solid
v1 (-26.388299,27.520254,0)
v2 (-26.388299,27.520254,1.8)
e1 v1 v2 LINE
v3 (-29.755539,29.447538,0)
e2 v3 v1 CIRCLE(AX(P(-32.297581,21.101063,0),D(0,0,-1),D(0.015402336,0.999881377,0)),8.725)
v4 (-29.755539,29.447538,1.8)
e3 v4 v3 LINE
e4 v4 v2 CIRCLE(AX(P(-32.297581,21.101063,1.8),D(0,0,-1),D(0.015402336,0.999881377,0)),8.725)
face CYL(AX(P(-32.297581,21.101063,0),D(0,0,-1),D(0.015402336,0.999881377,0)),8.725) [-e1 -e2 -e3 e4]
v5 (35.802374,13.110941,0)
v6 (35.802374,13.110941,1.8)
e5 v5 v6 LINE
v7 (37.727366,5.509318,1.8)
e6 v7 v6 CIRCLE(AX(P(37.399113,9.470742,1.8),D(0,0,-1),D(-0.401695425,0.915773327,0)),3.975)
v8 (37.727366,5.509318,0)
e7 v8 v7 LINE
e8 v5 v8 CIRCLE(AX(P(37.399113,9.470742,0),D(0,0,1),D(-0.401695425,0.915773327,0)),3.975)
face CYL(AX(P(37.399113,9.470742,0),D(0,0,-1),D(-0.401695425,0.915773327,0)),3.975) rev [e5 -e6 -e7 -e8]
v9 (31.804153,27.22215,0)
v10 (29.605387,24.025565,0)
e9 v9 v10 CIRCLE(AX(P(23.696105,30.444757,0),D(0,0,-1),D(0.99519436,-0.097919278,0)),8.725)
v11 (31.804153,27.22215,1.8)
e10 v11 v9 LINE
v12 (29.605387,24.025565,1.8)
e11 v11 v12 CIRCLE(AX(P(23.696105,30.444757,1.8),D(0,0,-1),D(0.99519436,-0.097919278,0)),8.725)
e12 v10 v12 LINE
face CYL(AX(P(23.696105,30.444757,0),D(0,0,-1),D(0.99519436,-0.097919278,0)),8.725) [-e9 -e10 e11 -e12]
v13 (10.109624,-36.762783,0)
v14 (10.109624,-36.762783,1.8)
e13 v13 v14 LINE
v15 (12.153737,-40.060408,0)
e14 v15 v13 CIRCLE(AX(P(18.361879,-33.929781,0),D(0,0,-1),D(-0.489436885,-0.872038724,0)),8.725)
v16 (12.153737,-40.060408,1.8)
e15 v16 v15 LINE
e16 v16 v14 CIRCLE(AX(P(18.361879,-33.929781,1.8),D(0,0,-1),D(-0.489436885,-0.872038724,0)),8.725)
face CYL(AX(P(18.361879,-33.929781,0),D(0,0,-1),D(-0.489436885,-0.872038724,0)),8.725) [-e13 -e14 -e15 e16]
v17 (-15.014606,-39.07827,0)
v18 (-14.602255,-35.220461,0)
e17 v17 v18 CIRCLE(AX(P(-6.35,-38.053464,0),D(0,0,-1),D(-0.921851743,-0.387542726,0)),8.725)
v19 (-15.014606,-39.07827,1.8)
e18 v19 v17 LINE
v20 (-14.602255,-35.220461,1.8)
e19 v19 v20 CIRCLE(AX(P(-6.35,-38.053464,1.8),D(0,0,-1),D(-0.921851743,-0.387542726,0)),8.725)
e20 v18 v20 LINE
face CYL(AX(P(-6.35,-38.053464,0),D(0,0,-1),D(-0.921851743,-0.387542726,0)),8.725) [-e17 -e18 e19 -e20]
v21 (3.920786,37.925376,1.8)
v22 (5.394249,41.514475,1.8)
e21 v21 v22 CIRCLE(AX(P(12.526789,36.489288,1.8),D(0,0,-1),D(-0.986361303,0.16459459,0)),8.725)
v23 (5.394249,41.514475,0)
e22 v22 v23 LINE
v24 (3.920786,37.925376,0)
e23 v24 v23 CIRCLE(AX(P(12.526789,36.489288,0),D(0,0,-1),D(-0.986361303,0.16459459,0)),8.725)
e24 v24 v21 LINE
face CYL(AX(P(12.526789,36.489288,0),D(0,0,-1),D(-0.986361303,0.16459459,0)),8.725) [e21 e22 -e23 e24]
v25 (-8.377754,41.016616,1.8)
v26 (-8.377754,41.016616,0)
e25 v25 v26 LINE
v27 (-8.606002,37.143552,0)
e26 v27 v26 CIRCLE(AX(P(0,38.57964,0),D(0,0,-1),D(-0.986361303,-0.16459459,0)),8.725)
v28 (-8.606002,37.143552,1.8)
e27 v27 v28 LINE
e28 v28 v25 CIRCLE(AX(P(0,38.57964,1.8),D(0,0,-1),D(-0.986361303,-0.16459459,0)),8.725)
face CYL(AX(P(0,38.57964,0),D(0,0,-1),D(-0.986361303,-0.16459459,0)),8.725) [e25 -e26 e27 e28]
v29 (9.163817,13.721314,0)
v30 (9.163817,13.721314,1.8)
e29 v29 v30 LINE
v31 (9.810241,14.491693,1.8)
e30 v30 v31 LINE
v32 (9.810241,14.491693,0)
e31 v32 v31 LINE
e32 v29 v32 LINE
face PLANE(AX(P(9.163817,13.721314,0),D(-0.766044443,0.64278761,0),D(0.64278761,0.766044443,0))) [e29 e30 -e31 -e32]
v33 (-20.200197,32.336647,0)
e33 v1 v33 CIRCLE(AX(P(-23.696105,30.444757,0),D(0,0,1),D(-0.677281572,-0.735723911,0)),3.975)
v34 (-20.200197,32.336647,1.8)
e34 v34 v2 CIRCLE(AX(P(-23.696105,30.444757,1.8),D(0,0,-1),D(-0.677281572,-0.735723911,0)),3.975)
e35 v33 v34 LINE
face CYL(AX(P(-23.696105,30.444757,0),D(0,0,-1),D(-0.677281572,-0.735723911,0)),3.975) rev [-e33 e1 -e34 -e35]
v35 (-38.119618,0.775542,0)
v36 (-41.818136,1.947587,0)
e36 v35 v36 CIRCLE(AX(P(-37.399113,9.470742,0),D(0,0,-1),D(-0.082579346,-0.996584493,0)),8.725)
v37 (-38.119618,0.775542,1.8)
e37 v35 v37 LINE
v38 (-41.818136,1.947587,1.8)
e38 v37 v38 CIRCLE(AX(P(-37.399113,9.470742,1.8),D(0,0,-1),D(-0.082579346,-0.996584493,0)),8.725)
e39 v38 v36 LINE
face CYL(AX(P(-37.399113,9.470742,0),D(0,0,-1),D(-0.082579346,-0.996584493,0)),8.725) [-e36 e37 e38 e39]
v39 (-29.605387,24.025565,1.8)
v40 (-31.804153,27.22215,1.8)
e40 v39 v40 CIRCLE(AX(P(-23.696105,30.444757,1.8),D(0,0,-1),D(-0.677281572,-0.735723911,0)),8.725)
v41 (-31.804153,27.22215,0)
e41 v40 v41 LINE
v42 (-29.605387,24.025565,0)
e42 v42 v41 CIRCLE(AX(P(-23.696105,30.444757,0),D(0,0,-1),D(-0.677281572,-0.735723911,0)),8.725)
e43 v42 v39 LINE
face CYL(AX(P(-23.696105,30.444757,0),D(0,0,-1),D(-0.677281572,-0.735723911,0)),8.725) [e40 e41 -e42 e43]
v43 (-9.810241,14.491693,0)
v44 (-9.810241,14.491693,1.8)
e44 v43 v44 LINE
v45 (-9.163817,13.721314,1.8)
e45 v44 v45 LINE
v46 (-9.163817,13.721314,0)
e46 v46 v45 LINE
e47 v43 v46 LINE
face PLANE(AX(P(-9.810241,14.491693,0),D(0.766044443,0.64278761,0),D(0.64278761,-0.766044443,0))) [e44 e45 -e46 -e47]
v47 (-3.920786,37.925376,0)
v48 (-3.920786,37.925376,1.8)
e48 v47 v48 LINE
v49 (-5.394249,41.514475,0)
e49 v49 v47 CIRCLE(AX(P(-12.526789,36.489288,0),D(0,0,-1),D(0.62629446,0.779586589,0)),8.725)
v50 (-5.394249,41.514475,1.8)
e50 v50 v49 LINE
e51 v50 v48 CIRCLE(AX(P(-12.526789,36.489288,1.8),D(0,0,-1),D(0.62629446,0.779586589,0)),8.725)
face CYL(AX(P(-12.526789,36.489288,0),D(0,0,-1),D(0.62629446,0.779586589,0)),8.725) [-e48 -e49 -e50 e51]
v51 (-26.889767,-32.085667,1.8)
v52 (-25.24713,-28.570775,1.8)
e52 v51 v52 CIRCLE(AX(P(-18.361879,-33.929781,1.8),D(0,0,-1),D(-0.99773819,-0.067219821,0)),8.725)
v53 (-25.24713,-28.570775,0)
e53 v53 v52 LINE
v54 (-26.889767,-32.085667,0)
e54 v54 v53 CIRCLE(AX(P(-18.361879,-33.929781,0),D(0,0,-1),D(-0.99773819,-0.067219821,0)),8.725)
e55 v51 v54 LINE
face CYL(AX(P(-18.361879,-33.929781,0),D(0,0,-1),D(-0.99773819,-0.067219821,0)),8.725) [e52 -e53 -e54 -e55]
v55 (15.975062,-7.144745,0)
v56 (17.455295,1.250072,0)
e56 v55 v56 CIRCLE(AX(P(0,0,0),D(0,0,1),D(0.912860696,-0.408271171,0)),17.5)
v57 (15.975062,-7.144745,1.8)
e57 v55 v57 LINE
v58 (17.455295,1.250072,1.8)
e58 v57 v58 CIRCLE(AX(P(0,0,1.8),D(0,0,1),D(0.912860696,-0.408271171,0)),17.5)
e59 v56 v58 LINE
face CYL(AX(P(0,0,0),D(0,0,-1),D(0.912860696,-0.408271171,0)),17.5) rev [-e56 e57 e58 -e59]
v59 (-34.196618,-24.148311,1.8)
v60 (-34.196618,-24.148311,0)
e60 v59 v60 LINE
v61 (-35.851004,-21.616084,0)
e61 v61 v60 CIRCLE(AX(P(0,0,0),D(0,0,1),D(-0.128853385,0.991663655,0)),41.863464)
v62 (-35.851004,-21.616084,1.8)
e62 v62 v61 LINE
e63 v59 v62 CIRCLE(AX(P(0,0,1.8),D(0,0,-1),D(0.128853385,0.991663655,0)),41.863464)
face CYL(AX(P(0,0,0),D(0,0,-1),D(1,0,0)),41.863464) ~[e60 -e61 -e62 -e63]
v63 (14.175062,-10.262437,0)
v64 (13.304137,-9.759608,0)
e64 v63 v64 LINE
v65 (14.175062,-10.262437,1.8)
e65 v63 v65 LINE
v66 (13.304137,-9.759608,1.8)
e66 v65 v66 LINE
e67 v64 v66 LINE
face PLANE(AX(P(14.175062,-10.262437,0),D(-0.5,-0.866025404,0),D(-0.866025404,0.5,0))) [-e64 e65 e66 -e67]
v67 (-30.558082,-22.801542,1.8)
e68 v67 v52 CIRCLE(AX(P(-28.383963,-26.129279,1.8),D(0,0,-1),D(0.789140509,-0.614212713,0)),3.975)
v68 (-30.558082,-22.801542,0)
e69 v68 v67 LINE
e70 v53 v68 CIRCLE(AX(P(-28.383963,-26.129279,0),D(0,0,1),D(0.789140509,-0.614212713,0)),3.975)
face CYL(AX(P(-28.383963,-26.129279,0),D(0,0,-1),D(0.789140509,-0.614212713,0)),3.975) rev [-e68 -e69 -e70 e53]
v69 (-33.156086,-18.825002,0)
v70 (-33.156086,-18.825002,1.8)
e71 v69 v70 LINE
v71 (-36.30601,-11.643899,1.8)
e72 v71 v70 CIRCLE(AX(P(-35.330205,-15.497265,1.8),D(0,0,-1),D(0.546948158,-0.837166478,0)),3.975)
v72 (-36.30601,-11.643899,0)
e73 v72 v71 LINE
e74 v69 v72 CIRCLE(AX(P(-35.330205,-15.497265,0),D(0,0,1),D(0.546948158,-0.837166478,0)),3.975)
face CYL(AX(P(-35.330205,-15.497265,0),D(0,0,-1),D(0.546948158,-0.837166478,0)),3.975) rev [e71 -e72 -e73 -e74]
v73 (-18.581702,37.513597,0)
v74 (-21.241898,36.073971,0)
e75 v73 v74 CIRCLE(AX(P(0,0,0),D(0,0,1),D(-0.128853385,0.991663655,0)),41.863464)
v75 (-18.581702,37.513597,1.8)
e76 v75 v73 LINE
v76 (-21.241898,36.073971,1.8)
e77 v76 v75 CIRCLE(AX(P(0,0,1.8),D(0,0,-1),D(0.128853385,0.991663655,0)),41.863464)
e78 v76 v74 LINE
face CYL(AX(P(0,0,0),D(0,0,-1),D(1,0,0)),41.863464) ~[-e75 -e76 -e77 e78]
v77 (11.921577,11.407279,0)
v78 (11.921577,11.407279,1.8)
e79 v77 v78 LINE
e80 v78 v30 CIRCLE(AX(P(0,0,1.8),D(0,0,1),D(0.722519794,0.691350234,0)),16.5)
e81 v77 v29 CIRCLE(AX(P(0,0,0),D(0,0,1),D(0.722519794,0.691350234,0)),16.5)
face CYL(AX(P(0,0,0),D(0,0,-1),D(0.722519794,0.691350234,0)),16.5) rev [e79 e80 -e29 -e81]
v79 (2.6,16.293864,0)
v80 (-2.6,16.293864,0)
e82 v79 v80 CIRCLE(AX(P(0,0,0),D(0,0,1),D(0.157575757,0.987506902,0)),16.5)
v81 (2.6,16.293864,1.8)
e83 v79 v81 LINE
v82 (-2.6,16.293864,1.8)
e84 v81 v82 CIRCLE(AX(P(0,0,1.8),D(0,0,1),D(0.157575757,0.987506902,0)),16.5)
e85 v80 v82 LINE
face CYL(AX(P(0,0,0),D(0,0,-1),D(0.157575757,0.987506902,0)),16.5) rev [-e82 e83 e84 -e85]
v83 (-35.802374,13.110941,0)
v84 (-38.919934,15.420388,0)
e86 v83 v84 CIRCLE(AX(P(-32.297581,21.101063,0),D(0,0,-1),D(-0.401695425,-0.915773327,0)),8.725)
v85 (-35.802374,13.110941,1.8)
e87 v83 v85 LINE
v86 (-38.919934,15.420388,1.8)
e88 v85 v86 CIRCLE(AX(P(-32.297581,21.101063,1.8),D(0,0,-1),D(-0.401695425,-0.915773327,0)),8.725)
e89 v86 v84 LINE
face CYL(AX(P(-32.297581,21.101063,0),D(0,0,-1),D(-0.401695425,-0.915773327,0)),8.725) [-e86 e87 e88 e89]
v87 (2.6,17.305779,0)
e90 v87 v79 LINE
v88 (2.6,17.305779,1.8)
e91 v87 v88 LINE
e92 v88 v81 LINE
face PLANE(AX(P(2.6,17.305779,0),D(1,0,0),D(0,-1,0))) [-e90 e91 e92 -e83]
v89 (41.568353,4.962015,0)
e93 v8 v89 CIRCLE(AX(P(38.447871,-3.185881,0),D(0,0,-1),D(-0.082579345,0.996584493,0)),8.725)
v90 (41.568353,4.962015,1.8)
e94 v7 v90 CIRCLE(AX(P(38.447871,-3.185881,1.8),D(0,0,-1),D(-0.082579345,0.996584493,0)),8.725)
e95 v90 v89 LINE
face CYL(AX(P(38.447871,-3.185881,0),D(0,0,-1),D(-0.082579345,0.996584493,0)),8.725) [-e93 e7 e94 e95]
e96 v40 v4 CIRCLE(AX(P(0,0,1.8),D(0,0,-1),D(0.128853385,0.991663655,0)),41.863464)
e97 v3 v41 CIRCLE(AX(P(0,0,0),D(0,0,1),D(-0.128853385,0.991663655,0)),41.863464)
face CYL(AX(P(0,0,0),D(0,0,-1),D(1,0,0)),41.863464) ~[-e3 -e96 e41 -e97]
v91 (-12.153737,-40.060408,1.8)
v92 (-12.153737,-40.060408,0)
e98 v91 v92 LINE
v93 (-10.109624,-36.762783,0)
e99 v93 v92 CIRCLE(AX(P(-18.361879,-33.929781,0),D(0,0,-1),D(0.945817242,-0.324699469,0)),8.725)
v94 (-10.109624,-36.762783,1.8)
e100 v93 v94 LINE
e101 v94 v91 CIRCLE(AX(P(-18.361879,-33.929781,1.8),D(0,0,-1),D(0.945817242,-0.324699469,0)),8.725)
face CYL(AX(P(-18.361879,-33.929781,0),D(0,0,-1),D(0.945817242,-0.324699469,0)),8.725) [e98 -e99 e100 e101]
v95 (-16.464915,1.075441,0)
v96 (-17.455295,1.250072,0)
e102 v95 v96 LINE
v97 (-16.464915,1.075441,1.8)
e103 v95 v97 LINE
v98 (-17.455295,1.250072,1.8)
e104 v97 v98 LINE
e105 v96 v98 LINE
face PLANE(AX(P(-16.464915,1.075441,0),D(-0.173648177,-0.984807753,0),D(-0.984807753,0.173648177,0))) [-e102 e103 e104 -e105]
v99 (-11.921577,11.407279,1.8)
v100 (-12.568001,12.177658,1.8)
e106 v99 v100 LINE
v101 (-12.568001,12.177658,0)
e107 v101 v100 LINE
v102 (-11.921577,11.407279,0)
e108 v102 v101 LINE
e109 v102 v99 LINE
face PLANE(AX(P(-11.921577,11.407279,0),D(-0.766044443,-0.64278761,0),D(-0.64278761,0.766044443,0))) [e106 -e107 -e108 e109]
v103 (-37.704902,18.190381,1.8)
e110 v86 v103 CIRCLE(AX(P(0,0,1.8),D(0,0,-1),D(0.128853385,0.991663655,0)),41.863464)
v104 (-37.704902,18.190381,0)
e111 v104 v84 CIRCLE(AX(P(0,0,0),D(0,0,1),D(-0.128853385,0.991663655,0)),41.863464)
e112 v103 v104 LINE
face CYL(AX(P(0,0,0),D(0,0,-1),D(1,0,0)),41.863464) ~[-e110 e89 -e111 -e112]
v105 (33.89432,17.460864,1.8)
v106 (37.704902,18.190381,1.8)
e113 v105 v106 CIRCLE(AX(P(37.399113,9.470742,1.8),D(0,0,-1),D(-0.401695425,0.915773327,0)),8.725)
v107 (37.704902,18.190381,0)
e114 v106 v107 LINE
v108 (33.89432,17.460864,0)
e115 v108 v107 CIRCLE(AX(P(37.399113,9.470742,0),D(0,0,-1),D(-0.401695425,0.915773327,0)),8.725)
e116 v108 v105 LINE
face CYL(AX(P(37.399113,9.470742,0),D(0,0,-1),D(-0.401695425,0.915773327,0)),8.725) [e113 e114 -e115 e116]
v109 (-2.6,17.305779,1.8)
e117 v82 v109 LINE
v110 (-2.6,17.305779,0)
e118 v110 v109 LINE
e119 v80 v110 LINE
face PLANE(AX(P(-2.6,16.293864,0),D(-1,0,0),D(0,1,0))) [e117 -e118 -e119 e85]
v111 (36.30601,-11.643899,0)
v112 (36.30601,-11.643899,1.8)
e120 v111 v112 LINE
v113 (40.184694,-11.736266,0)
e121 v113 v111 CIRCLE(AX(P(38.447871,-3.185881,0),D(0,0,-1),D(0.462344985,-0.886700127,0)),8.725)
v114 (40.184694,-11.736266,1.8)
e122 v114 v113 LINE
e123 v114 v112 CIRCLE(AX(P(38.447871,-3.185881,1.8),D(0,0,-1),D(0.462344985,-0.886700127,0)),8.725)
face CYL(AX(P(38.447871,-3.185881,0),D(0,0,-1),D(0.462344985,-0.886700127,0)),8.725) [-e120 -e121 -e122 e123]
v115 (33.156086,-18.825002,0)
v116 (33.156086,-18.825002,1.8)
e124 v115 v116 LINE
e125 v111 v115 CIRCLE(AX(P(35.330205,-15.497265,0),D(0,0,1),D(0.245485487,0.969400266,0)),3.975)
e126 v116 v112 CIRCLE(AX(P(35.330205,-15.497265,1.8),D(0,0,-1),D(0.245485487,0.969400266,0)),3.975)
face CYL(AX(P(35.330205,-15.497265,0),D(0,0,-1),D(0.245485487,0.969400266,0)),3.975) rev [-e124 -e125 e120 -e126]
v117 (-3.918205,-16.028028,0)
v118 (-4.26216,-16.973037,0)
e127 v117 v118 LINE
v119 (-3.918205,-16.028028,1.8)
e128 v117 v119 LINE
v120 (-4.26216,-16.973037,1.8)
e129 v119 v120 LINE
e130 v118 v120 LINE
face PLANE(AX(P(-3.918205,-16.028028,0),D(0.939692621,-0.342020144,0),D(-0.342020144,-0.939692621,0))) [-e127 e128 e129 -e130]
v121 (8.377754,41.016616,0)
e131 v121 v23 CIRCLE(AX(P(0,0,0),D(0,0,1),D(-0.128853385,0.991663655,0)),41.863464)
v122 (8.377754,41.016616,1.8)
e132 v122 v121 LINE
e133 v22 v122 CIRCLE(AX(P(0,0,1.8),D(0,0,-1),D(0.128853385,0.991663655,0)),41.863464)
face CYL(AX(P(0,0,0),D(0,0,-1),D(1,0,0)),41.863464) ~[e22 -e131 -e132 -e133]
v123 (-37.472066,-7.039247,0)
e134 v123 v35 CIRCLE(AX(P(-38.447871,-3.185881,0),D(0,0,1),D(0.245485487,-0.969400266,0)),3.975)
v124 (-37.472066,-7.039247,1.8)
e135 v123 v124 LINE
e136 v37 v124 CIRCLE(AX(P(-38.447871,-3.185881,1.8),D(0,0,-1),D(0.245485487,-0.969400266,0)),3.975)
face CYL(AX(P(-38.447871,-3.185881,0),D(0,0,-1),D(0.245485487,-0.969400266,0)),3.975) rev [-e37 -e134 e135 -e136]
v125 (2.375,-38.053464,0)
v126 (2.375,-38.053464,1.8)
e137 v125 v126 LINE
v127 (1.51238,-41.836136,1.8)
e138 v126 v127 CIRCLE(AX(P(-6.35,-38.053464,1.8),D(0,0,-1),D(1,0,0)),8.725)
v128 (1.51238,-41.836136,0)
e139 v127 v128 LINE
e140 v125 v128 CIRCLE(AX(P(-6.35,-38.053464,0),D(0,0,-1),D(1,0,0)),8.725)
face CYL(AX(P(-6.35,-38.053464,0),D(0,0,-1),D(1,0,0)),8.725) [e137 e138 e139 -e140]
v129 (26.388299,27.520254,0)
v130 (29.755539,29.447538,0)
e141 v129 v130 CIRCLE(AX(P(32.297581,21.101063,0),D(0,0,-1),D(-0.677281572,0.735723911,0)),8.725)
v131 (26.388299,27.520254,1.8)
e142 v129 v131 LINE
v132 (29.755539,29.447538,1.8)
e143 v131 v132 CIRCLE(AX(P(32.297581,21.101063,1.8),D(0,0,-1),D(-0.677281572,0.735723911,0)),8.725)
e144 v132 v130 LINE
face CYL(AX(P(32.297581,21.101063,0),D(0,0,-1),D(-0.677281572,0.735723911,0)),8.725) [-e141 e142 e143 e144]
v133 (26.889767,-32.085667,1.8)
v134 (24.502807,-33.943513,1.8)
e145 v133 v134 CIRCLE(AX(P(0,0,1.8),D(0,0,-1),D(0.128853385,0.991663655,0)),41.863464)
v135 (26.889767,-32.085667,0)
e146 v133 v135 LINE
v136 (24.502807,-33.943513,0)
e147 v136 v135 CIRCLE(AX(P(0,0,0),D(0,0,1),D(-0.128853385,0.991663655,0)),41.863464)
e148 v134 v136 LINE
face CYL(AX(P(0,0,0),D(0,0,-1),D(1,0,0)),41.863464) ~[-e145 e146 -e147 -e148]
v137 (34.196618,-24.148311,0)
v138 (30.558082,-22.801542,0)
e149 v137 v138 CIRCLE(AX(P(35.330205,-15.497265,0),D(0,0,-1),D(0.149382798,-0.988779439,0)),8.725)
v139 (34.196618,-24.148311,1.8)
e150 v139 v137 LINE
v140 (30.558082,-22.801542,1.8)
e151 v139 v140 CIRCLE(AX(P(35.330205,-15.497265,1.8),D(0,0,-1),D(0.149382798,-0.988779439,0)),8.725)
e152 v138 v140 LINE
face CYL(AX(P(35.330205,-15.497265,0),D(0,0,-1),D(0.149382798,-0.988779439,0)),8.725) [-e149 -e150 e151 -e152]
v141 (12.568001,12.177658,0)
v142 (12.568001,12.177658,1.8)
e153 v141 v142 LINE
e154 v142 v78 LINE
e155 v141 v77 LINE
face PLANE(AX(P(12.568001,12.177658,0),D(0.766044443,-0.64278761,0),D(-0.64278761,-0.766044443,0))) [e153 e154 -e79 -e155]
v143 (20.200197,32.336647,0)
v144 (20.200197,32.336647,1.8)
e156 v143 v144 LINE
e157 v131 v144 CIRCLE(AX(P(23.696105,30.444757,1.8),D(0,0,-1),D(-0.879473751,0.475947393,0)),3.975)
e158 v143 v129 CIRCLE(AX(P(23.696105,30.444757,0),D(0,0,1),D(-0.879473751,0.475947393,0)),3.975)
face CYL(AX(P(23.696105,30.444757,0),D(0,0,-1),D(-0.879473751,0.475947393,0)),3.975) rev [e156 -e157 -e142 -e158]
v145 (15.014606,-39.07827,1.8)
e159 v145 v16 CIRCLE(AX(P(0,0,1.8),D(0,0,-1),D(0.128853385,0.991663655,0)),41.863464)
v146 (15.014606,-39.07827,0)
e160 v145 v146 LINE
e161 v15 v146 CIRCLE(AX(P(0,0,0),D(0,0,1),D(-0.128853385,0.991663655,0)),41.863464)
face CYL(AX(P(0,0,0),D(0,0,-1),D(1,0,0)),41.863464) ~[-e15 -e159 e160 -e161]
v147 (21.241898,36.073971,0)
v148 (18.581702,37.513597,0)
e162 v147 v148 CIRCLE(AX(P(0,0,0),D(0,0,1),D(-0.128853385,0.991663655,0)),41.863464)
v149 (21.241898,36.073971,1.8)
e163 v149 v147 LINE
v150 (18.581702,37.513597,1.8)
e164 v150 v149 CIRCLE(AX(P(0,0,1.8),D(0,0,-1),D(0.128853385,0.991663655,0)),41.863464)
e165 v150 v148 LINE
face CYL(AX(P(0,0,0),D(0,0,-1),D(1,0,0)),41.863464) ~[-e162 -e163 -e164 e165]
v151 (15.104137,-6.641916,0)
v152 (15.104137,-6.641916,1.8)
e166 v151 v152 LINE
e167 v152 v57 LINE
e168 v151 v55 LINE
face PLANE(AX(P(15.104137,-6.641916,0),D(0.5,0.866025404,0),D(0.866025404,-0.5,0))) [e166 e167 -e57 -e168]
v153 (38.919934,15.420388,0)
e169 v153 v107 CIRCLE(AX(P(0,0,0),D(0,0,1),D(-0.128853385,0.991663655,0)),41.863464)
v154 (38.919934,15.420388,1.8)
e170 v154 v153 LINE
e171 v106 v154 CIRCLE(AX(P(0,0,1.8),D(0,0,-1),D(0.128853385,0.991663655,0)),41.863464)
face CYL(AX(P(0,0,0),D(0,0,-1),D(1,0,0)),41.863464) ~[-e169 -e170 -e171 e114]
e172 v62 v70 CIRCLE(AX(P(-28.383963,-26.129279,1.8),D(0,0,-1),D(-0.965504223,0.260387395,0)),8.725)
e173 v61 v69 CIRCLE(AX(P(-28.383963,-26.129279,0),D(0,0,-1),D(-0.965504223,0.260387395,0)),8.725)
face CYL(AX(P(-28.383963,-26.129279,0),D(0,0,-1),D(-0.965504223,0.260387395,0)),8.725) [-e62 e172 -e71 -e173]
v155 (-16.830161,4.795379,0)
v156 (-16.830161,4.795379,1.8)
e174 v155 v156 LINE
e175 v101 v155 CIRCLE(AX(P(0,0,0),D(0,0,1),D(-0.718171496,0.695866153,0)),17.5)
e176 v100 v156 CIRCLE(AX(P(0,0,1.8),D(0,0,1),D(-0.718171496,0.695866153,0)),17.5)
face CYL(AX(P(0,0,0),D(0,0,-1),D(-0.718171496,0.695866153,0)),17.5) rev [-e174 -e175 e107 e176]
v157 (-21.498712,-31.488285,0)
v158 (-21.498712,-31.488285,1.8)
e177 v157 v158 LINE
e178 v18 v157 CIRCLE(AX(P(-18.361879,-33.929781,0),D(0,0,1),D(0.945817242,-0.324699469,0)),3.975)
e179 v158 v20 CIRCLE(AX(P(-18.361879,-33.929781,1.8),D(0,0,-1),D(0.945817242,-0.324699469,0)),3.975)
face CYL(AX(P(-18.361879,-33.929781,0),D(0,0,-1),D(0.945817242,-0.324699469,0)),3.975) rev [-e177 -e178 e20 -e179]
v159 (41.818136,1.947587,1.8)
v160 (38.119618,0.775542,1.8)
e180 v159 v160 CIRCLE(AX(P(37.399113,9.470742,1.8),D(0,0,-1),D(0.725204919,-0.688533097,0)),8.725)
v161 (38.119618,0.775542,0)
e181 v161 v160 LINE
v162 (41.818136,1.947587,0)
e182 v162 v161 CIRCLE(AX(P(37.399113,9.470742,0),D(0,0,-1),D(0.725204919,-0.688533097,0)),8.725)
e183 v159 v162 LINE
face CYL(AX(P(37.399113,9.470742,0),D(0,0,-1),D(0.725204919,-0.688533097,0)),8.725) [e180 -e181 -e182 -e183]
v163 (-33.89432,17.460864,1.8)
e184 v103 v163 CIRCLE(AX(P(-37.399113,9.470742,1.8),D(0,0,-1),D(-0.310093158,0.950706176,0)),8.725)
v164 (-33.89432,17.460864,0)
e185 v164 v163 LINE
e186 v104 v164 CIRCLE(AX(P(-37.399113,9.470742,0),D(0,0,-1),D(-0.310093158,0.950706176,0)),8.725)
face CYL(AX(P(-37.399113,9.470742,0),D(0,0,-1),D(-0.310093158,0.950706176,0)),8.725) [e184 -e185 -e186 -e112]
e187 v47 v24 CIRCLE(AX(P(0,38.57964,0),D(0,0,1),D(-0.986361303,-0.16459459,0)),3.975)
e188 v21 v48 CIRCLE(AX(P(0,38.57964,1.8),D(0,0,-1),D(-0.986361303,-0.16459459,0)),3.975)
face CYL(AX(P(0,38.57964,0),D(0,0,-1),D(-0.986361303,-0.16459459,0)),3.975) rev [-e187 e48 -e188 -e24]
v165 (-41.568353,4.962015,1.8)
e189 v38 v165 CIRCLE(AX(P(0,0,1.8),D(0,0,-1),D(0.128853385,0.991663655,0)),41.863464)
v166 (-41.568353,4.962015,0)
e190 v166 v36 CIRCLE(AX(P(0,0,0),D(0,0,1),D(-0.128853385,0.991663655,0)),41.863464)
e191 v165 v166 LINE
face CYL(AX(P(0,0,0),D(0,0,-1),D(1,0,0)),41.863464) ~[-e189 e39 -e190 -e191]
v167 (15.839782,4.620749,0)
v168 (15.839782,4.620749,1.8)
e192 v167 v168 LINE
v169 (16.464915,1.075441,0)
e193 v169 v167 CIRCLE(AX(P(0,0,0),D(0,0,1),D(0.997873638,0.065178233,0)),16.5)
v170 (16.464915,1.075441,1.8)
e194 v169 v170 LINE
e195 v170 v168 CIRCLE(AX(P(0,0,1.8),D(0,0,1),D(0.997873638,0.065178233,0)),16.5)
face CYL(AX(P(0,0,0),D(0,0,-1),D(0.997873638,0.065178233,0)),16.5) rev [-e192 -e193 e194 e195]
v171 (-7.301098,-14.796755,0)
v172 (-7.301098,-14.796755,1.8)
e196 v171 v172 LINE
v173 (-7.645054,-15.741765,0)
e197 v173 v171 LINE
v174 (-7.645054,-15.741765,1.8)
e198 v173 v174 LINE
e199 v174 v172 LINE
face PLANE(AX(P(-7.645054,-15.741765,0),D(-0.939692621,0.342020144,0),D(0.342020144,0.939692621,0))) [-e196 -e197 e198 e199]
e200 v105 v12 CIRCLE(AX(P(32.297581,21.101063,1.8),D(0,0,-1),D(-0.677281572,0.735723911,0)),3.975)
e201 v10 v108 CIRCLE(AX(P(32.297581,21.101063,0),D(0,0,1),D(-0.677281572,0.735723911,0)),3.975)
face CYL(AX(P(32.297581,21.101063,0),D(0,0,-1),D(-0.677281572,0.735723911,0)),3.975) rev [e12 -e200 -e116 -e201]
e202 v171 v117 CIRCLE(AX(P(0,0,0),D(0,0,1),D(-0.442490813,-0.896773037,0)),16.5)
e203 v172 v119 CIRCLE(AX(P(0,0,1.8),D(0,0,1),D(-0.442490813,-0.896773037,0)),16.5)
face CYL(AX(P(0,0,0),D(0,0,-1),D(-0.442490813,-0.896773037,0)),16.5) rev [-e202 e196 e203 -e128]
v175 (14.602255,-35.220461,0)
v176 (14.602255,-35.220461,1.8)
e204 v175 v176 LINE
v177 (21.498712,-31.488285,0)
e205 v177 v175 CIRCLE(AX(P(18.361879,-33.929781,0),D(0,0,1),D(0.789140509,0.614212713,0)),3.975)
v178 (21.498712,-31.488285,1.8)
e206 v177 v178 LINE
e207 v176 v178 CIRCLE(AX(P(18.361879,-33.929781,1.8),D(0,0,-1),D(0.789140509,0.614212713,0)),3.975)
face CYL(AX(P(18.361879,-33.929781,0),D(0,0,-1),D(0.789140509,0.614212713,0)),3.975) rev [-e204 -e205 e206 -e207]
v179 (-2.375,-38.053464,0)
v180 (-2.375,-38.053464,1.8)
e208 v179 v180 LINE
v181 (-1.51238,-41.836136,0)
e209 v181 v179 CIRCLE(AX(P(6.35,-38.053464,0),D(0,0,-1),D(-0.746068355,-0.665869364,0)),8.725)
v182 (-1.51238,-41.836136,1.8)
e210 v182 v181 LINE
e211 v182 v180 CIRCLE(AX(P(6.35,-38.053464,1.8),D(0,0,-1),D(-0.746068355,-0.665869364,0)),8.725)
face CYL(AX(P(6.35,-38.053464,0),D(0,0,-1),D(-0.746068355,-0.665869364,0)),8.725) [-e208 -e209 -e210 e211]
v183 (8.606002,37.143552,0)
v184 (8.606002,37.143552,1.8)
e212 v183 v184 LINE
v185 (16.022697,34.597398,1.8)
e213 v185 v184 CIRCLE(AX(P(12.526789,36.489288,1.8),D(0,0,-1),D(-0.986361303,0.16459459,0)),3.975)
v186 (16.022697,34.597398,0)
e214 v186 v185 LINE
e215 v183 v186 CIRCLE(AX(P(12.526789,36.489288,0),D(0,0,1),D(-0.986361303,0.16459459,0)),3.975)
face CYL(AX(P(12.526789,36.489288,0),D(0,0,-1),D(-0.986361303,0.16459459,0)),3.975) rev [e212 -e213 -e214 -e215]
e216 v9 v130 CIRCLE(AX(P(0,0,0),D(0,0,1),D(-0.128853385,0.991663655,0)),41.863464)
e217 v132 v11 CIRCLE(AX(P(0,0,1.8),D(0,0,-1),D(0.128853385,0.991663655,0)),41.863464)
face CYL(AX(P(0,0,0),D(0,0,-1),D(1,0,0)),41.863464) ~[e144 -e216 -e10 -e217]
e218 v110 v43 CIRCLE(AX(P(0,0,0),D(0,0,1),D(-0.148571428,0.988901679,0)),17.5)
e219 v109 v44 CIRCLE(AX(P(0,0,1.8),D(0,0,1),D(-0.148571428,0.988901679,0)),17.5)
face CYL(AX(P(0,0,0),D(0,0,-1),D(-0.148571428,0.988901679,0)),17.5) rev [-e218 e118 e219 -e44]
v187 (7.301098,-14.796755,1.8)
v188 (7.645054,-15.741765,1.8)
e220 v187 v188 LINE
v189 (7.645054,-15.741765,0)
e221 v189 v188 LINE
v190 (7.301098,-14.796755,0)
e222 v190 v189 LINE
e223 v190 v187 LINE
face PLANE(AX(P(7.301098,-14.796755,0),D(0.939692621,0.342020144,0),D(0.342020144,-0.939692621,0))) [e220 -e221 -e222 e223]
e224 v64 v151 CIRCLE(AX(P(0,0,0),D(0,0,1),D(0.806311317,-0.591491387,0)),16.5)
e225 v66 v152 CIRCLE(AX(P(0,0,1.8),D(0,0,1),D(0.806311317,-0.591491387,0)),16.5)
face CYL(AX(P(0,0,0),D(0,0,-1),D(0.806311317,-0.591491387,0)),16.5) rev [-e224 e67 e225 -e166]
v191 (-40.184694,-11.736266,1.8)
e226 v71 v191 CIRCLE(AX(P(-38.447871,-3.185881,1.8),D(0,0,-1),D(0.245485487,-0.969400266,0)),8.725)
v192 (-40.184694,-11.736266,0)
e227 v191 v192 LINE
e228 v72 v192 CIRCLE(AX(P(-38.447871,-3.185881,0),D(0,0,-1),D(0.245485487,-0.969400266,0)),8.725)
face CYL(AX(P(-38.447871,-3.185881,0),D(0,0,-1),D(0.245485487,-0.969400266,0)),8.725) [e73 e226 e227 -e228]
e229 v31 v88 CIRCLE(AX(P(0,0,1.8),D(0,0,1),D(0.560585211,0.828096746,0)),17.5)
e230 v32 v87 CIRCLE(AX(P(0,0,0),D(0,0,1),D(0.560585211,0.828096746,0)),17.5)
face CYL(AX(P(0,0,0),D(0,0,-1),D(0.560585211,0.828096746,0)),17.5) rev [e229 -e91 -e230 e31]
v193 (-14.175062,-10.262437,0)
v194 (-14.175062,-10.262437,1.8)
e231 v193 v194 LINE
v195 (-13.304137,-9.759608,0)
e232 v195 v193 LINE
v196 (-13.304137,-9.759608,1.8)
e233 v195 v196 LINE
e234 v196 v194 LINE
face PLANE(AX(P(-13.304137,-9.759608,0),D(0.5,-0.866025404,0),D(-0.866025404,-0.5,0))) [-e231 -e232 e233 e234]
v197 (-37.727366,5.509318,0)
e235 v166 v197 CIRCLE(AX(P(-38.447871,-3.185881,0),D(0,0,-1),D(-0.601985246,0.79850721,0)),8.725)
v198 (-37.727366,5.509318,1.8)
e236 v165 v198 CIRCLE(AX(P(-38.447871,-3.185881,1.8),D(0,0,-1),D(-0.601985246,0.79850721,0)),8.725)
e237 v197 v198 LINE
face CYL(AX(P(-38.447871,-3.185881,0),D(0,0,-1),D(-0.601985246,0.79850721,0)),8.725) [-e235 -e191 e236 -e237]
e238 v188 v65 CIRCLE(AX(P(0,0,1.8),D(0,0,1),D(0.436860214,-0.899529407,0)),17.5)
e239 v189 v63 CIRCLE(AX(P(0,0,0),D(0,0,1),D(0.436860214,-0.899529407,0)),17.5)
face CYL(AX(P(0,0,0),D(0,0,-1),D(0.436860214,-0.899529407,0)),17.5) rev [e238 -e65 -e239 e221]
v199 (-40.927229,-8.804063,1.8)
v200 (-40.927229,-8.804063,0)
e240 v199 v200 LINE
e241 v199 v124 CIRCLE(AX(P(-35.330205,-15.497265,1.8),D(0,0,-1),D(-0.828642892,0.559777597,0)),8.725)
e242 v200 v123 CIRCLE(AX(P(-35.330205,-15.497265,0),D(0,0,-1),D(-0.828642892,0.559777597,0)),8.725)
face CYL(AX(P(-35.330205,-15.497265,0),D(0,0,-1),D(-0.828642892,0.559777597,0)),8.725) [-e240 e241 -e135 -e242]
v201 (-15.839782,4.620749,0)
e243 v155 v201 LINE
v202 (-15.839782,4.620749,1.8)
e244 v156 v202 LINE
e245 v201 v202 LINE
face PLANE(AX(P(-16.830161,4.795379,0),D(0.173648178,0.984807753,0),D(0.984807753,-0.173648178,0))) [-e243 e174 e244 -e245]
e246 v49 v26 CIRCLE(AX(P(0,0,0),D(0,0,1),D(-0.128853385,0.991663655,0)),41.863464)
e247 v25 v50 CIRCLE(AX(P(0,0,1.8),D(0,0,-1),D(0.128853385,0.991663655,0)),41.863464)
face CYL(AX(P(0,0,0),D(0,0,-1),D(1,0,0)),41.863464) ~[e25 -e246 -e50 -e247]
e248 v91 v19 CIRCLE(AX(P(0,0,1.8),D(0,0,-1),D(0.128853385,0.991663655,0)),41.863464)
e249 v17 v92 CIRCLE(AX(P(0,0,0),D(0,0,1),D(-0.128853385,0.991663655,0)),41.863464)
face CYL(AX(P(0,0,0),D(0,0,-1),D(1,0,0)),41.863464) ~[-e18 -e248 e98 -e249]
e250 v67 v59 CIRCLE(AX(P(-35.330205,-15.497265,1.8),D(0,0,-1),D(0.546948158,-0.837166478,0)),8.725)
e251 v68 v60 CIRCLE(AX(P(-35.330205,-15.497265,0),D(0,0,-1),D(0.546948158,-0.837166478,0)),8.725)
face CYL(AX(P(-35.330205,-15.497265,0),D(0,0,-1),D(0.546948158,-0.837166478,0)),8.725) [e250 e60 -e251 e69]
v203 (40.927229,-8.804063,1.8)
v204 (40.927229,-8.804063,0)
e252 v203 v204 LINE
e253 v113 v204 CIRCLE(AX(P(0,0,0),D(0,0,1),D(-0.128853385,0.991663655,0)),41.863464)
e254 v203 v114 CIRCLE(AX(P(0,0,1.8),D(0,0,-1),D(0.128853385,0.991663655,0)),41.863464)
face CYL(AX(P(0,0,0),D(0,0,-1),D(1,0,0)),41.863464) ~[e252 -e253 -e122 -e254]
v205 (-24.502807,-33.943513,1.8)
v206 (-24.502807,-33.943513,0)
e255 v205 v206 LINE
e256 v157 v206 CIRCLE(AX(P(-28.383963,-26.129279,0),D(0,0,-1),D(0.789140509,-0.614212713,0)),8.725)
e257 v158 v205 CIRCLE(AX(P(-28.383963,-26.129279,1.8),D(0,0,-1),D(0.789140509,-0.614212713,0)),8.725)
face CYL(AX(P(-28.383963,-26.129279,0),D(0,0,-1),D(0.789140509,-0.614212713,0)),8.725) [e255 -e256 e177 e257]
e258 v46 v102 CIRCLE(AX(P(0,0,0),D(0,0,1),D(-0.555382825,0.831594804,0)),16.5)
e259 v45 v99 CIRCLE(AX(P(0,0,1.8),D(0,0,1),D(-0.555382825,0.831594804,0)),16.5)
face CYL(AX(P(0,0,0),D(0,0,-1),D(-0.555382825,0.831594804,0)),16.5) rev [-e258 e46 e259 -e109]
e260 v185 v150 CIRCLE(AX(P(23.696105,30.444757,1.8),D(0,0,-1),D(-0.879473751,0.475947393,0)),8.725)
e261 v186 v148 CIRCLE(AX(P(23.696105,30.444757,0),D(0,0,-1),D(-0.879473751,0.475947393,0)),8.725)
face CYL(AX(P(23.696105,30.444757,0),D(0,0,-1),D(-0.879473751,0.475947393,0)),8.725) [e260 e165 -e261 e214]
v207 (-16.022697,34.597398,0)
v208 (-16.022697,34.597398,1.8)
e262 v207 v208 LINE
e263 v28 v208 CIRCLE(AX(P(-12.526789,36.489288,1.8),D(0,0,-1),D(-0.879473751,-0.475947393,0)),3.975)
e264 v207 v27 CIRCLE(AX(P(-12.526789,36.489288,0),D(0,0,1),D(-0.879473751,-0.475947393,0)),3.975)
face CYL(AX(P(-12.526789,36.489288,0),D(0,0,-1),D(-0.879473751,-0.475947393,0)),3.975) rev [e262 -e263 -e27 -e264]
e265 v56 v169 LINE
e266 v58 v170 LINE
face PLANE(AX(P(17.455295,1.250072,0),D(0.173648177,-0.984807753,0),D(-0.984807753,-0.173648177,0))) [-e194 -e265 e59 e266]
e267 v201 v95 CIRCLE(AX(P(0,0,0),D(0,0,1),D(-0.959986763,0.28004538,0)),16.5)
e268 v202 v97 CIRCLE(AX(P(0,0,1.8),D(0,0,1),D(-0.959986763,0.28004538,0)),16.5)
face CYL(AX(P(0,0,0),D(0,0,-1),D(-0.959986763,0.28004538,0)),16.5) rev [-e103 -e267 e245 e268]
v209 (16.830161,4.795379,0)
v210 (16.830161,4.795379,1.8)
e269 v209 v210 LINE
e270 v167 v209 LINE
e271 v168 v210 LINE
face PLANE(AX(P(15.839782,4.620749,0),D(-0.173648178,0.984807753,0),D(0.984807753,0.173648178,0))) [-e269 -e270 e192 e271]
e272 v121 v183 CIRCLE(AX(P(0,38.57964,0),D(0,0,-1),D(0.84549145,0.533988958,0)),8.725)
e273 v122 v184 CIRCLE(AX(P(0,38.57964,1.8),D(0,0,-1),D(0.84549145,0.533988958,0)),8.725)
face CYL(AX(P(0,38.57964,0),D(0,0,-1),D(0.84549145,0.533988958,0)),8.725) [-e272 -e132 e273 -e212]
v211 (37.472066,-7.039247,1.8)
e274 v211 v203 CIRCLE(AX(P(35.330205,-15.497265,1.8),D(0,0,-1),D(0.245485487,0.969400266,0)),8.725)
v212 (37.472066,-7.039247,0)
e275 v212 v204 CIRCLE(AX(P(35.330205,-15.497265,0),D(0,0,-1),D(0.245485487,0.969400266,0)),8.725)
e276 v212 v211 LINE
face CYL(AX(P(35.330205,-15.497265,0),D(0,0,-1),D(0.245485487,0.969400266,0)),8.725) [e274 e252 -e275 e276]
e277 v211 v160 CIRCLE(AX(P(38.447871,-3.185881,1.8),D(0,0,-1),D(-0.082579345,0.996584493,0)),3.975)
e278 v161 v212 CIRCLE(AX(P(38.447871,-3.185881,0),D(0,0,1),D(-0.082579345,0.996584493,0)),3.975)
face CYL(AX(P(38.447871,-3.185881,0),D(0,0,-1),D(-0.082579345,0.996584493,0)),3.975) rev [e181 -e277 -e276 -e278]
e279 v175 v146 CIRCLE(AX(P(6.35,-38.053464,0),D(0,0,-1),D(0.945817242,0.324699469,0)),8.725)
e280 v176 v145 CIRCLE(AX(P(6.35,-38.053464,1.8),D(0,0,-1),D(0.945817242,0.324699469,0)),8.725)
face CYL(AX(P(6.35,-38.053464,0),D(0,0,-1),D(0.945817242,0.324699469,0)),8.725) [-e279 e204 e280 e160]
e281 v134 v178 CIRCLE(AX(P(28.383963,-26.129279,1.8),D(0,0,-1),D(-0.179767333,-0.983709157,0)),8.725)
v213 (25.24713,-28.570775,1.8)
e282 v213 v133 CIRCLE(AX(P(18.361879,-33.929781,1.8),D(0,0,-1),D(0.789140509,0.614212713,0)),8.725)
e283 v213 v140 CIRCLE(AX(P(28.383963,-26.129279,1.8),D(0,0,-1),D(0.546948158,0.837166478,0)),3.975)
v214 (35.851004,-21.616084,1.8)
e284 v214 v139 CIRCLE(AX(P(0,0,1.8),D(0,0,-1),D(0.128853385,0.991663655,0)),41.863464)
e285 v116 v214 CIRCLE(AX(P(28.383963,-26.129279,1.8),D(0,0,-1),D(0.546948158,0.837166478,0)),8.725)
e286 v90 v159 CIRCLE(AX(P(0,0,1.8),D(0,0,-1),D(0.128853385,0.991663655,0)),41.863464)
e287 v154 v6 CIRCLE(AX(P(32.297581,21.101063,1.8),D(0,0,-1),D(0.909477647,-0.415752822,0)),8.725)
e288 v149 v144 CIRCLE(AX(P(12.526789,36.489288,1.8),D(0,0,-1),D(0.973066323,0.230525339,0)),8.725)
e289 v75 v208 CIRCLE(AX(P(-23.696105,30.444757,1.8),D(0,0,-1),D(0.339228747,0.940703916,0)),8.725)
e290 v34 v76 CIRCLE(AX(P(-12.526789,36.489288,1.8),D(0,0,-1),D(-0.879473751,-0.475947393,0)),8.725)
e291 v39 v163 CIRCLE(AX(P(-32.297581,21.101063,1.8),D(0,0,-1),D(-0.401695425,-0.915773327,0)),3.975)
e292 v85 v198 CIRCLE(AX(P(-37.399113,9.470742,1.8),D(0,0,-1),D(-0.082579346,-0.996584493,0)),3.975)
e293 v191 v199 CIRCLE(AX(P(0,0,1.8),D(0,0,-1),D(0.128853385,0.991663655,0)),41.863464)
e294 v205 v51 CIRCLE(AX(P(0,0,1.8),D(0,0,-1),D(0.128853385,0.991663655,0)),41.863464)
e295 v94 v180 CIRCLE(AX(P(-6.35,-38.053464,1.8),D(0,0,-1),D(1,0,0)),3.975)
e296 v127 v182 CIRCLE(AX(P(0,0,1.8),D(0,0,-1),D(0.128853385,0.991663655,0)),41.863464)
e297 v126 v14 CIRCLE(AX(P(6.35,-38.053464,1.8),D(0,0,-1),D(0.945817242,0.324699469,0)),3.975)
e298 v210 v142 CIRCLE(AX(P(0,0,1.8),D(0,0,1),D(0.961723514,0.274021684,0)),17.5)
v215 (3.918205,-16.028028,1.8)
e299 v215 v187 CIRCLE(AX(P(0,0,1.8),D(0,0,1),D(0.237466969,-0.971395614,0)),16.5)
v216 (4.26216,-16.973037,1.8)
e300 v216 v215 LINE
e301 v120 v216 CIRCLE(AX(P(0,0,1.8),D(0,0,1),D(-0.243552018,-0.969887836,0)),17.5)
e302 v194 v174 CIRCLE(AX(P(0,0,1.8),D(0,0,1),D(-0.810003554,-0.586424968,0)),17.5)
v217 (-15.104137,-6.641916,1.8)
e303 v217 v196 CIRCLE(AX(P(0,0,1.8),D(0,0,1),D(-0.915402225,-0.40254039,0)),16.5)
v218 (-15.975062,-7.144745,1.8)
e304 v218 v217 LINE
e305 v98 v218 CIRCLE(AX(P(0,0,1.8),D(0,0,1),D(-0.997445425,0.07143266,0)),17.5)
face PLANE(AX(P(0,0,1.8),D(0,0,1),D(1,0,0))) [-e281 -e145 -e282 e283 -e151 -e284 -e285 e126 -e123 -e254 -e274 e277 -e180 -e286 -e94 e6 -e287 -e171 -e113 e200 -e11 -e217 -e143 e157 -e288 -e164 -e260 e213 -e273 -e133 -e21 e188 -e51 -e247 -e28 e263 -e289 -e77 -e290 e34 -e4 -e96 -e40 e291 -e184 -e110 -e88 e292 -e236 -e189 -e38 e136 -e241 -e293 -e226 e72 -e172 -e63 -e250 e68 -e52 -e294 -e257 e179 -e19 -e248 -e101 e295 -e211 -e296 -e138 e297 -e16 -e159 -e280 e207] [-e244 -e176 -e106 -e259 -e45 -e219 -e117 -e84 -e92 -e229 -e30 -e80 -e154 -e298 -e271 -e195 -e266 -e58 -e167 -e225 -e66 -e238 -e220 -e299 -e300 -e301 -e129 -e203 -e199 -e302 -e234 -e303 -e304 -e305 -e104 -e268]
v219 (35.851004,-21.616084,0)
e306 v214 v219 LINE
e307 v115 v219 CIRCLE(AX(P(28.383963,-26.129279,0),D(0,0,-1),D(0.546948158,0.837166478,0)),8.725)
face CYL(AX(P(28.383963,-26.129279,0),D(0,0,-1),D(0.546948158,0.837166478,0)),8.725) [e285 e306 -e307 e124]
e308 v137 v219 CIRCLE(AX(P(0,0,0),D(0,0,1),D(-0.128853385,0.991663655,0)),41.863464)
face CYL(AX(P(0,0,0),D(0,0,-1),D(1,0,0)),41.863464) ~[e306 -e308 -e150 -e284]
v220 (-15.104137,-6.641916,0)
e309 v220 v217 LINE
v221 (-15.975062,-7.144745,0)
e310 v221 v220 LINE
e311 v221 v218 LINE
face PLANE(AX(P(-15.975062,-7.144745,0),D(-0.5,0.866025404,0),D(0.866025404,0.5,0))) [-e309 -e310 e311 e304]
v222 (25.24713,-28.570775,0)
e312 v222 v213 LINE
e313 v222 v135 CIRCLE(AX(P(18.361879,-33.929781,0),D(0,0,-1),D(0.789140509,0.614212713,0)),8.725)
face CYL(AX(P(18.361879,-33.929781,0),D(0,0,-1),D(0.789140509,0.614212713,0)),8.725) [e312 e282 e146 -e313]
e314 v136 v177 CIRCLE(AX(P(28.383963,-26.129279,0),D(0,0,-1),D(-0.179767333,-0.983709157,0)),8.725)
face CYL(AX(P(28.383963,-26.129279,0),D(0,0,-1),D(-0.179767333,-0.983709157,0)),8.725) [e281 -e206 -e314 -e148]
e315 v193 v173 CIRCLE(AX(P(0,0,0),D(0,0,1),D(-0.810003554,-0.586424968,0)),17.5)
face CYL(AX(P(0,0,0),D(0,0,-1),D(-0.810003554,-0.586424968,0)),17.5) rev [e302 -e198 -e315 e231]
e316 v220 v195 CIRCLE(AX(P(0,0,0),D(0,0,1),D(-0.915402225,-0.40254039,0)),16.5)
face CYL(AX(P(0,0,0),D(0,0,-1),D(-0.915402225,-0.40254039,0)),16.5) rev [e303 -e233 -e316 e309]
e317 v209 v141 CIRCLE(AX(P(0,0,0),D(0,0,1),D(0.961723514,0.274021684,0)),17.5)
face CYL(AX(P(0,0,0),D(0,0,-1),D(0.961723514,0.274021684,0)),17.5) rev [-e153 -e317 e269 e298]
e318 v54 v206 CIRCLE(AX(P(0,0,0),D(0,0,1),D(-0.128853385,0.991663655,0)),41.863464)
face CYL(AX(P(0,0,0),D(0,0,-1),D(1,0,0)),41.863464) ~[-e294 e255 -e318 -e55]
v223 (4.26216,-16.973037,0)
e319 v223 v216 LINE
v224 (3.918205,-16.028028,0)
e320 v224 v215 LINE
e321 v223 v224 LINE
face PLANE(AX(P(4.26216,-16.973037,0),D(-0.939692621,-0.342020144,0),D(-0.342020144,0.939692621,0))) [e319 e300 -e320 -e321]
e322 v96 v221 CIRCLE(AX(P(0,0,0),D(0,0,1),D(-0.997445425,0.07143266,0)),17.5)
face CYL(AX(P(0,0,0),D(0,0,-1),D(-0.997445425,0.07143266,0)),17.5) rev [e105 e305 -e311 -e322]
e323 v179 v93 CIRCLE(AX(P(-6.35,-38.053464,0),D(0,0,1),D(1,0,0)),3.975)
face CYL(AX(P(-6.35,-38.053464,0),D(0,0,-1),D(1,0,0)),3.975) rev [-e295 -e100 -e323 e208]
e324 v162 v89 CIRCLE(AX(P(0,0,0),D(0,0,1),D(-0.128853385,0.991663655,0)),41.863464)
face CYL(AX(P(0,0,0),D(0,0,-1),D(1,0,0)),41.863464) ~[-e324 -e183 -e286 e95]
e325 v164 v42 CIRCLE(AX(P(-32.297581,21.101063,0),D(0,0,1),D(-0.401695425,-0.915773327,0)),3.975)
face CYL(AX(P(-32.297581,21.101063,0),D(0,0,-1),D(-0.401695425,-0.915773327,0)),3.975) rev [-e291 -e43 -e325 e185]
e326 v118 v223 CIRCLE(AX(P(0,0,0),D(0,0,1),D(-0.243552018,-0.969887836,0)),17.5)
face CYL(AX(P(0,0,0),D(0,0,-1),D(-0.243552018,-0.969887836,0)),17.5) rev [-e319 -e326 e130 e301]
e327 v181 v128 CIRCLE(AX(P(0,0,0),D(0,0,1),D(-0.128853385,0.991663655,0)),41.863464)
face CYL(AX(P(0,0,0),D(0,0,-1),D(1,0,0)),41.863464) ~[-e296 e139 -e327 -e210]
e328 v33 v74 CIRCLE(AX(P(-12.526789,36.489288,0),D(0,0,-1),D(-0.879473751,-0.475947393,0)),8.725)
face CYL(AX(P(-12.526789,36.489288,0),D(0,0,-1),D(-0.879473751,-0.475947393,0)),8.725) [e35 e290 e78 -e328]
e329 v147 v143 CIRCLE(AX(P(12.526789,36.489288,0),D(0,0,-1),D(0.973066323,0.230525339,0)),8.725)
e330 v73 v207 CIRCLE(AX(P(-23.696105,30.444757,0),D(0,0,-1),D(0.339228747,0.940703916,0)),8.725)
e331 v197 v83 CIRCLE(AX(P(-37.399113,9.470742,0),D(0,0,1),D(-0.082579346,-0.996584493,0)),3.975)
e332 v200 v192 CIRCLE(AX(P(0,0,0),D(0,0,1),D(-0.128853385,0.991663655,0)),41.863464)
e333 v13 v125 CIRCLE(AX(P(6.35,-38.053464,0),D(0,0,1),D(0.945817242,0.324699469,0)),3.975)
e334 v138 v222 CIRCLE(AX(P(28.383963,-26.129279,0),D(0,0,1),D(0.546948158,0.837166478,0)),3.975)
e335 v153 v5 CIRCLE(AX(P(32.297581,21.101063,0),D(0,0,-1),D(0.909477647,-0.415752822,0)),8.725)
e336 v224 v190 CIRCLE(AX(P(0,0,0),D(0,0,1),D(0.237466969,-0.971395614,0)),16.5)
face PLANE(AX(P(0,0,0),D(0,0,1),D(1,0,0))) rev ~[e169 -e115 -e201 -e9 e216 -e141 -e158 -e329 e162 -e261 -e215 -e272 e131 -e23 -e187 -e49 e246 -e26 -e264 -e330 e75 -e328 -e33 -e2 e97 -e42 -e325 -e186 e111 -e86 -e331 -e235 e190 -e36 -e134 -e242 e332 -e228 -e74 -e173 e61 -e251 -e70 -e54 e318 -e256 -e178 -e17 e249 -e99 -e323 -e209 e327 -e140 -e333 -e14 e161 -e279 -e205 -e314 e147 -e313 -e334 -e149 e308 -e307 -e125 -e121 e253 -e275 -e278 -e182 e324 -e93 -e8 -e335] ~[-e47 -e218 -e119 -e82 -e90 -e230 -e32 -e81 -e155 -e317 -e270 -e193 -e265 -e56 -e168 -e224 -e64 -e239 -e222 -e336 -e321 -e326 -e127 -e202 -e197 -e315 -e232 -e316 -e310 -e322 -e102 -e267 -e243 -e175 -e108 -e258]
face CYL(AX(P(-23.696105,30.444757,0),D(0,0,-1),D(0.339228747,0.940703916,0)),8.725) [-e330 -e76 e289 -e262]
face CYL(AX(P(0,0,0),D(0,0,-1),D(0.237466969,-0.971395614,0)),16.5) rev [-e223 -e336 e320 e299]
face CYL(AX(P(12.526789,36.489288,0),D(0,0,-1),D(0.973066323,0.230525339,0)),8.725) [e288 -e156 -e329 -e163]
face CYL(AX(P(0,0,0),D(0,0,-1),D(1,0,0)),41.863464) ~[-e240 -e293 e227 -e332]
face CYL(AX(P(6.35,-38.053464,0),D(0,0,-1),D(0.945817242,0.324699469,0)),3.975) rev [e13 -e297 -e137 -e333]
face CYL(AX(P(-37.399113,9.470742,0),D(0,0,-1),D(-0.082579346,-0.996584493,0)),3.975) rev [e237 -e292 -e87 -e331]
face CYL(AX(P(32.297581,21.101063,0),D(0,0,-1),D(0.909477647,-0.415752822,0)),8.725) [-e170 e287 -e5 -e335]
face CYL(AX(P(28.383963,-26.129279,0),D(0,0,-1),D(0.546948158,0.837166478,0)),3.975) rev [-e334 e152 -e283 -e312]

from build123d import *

# Parameters (mm, degrees)
SK_DISCO_R           = 41.863463762
DISCO_DEPTH          = 1.8
HUECO_DIENTE_DEPTH   = 60.231234971
MATRIZ_DIENTES_COUNT = 19


with BuildPart() as part:
    # Sk_Disco → Disco (new body)
    with BuildSketch(Plane.XY):
        Circle(SK_DISCO_R)
        with BuildLine():
            Line((2.6, 17.305779381), (2.6, 16.293863876))
            ThreePointArc((2.6, 16.293863876), (0, 16.5), (-2.6, 16.293863876))
            Line((-2.6, 16.293863876), (-2.6, 17.305779381))
            ThreePointArc((-2.6, 17.305779381), (-6.362648192, 16.302352836), (-9.810241185, 14.491693065))
            Line((-9.810241185, 14.491693065), (-9.163816615, 13.721314261))
            ThreePointArc((-9.163816615, 13.721314261), (-10.60599556, 12.639733311), (-11.92157661, 11.407278866))
            Line((-11.92157661, 11.407278866), (-12.56800118, 12.17765767))
            ThreePointArc((-12.56800118, 12.17765767), (-15.155444566, 8.75), (-16.830161491, 4.795379462))
            Line((-16.830161491, 4.795379462), (-15.839781591, 4.620748764))
            ThreePointArc((-15.839781591, 4.620748764), (-16.249327925, 2.865194932), (-16.464915031, 1.075440854))
            Line((-16.464915031, 1.075440854), (-17.455294931, 1.250071551))
            ThreePointArc((-17.455294931, 1.250071551), (-17.234135678, -3.038843109), (-15.975062189, -7.144745486))
            Line((-15.975062189, -7.144745486), (-15.104136721, -6.641916433))
            ThreePointArc((-15.104136721, -6.641916433), (-14.289419162, -8.25), (-13.304136721, -9.759607887))
            Line((-13.304136721, -9.759607887), (-14.175062189, -10.26243694))
            ThreePointArc((-14.175062189, -10.26243694), (-11.24878317, -13.405777755), (-7.645053746, -15.741764616))
            Line((-7.645053746, -15.741764616), (-7.301098416, -14.796755115))
            ThreePointArc((-7.301098416, -14.796755115), (-5.643332365, -15.504928243), (-3.918204981, -16.028027631))
            Line((-3.918204981, -16.028027631), (-4.262160311, -16.973037132))
            ThreePointArc((-4.262160311, -16.973037132), (0, -17.5), (4.262160311, -16.973037132))
            Line((4.262160311, -16.973037132), (3.918204981, -16.028027631))
            ThreePointArc((3.918204981, -16.028027631), (5.643332365, -15.504928243), (7.301098416, -14.796755115))
            Line((7.301098416, -14.796755115), (7.645053746, -15.741764616))
            ThreePointArc((7.645053746, -15.741764616), (11.24878317, -13.405777755), (14.175062189, -10.26243694))
            Line((14.175062189, -10.26243694), (13.304136721, -9.759607887))
            ThreePointArc((13.304136721, -9.759607887), (14.289419162, -8.25), (15.104136721, -6.641916433))
            Line((15.104136721, -6.641916433), (15.975062189, -7.144745486))
            ThreePointArc((15.975062189, -7.144745486), (17.234135678, -3.038843109), (17.455294931, 1.250071551))
            Line((17.455294931, 1.250071551), (16.464915031, 1.075440854))
            ThreePointArc((16.464915031, 1.075440854), (16.249327925, 2.865194932), (15.839781591, 4.620748764))
            Line((15.839781591, 4.620748764), (16.830161491, 4.795379462))
            ThreePointArc((16.830161491, 4.795379462), (15.155444566, 8.75), (12.56800118, 12.17765767))
            Line((12.56800118, 12.17765767), (11.92157661, 11.407278866))
            ThreePointArc((11.92157661, 11.407278866), (10.60599556, 12.639733311), (9.163816615, 13.721314261))
            Line((9.163816615, 13.721314261), (9.810241185, 14.491693065))
            ThreePointArc((9.810241185, 14.491693065), (6.362648192, 16.302352836), (2.6, 17.305779381))
        make_face(mode=Mode.SUBTRACT)
    extrude(amount=DISCO_DEPTH)

    # Sk_Hueco → Hueco_diente (cut, through all)
    with BuildSketch(Plane.XY):
        with BuildLine():
            ThreePointArc((-3.920786181, 37.925376267), (0, 34.604639763), (3.920786181, 37.925376267))
            ThreePointArc((3.920786181, 37.925376267), (4.997369129, 40.897629213), (7.062369391, 43.291181455))
            ThreePointArc((7.062369391, 43.291181455), (0, 43.863463762), (-7.062369391, 43.291181455))
            ThreePointArc((-7.062369391, 43.291181455), (-4.997369129, 40.897629213), (-3.920786181, 37.925376267))
        make_face()
    hueco_diente = extrude(amount=HUECO_DIENTE_DEPTH, mode=Mode.SUBTRACT)

    # Matriz_dientes: Hueco_diente ×19 about axis
    matriz_dientes_axis = Axis((0, 0, -0.09), (0, 0, 1))
    for i in range(1, MATRIZ_DIENTES_COUNT):
        add(hueco_diente.rotate(matriz_dientes_axis, i * 360 / MATRIZ_DIENTES_COUNT), mode=Mode.SUBTRACT)


solid = part.part
